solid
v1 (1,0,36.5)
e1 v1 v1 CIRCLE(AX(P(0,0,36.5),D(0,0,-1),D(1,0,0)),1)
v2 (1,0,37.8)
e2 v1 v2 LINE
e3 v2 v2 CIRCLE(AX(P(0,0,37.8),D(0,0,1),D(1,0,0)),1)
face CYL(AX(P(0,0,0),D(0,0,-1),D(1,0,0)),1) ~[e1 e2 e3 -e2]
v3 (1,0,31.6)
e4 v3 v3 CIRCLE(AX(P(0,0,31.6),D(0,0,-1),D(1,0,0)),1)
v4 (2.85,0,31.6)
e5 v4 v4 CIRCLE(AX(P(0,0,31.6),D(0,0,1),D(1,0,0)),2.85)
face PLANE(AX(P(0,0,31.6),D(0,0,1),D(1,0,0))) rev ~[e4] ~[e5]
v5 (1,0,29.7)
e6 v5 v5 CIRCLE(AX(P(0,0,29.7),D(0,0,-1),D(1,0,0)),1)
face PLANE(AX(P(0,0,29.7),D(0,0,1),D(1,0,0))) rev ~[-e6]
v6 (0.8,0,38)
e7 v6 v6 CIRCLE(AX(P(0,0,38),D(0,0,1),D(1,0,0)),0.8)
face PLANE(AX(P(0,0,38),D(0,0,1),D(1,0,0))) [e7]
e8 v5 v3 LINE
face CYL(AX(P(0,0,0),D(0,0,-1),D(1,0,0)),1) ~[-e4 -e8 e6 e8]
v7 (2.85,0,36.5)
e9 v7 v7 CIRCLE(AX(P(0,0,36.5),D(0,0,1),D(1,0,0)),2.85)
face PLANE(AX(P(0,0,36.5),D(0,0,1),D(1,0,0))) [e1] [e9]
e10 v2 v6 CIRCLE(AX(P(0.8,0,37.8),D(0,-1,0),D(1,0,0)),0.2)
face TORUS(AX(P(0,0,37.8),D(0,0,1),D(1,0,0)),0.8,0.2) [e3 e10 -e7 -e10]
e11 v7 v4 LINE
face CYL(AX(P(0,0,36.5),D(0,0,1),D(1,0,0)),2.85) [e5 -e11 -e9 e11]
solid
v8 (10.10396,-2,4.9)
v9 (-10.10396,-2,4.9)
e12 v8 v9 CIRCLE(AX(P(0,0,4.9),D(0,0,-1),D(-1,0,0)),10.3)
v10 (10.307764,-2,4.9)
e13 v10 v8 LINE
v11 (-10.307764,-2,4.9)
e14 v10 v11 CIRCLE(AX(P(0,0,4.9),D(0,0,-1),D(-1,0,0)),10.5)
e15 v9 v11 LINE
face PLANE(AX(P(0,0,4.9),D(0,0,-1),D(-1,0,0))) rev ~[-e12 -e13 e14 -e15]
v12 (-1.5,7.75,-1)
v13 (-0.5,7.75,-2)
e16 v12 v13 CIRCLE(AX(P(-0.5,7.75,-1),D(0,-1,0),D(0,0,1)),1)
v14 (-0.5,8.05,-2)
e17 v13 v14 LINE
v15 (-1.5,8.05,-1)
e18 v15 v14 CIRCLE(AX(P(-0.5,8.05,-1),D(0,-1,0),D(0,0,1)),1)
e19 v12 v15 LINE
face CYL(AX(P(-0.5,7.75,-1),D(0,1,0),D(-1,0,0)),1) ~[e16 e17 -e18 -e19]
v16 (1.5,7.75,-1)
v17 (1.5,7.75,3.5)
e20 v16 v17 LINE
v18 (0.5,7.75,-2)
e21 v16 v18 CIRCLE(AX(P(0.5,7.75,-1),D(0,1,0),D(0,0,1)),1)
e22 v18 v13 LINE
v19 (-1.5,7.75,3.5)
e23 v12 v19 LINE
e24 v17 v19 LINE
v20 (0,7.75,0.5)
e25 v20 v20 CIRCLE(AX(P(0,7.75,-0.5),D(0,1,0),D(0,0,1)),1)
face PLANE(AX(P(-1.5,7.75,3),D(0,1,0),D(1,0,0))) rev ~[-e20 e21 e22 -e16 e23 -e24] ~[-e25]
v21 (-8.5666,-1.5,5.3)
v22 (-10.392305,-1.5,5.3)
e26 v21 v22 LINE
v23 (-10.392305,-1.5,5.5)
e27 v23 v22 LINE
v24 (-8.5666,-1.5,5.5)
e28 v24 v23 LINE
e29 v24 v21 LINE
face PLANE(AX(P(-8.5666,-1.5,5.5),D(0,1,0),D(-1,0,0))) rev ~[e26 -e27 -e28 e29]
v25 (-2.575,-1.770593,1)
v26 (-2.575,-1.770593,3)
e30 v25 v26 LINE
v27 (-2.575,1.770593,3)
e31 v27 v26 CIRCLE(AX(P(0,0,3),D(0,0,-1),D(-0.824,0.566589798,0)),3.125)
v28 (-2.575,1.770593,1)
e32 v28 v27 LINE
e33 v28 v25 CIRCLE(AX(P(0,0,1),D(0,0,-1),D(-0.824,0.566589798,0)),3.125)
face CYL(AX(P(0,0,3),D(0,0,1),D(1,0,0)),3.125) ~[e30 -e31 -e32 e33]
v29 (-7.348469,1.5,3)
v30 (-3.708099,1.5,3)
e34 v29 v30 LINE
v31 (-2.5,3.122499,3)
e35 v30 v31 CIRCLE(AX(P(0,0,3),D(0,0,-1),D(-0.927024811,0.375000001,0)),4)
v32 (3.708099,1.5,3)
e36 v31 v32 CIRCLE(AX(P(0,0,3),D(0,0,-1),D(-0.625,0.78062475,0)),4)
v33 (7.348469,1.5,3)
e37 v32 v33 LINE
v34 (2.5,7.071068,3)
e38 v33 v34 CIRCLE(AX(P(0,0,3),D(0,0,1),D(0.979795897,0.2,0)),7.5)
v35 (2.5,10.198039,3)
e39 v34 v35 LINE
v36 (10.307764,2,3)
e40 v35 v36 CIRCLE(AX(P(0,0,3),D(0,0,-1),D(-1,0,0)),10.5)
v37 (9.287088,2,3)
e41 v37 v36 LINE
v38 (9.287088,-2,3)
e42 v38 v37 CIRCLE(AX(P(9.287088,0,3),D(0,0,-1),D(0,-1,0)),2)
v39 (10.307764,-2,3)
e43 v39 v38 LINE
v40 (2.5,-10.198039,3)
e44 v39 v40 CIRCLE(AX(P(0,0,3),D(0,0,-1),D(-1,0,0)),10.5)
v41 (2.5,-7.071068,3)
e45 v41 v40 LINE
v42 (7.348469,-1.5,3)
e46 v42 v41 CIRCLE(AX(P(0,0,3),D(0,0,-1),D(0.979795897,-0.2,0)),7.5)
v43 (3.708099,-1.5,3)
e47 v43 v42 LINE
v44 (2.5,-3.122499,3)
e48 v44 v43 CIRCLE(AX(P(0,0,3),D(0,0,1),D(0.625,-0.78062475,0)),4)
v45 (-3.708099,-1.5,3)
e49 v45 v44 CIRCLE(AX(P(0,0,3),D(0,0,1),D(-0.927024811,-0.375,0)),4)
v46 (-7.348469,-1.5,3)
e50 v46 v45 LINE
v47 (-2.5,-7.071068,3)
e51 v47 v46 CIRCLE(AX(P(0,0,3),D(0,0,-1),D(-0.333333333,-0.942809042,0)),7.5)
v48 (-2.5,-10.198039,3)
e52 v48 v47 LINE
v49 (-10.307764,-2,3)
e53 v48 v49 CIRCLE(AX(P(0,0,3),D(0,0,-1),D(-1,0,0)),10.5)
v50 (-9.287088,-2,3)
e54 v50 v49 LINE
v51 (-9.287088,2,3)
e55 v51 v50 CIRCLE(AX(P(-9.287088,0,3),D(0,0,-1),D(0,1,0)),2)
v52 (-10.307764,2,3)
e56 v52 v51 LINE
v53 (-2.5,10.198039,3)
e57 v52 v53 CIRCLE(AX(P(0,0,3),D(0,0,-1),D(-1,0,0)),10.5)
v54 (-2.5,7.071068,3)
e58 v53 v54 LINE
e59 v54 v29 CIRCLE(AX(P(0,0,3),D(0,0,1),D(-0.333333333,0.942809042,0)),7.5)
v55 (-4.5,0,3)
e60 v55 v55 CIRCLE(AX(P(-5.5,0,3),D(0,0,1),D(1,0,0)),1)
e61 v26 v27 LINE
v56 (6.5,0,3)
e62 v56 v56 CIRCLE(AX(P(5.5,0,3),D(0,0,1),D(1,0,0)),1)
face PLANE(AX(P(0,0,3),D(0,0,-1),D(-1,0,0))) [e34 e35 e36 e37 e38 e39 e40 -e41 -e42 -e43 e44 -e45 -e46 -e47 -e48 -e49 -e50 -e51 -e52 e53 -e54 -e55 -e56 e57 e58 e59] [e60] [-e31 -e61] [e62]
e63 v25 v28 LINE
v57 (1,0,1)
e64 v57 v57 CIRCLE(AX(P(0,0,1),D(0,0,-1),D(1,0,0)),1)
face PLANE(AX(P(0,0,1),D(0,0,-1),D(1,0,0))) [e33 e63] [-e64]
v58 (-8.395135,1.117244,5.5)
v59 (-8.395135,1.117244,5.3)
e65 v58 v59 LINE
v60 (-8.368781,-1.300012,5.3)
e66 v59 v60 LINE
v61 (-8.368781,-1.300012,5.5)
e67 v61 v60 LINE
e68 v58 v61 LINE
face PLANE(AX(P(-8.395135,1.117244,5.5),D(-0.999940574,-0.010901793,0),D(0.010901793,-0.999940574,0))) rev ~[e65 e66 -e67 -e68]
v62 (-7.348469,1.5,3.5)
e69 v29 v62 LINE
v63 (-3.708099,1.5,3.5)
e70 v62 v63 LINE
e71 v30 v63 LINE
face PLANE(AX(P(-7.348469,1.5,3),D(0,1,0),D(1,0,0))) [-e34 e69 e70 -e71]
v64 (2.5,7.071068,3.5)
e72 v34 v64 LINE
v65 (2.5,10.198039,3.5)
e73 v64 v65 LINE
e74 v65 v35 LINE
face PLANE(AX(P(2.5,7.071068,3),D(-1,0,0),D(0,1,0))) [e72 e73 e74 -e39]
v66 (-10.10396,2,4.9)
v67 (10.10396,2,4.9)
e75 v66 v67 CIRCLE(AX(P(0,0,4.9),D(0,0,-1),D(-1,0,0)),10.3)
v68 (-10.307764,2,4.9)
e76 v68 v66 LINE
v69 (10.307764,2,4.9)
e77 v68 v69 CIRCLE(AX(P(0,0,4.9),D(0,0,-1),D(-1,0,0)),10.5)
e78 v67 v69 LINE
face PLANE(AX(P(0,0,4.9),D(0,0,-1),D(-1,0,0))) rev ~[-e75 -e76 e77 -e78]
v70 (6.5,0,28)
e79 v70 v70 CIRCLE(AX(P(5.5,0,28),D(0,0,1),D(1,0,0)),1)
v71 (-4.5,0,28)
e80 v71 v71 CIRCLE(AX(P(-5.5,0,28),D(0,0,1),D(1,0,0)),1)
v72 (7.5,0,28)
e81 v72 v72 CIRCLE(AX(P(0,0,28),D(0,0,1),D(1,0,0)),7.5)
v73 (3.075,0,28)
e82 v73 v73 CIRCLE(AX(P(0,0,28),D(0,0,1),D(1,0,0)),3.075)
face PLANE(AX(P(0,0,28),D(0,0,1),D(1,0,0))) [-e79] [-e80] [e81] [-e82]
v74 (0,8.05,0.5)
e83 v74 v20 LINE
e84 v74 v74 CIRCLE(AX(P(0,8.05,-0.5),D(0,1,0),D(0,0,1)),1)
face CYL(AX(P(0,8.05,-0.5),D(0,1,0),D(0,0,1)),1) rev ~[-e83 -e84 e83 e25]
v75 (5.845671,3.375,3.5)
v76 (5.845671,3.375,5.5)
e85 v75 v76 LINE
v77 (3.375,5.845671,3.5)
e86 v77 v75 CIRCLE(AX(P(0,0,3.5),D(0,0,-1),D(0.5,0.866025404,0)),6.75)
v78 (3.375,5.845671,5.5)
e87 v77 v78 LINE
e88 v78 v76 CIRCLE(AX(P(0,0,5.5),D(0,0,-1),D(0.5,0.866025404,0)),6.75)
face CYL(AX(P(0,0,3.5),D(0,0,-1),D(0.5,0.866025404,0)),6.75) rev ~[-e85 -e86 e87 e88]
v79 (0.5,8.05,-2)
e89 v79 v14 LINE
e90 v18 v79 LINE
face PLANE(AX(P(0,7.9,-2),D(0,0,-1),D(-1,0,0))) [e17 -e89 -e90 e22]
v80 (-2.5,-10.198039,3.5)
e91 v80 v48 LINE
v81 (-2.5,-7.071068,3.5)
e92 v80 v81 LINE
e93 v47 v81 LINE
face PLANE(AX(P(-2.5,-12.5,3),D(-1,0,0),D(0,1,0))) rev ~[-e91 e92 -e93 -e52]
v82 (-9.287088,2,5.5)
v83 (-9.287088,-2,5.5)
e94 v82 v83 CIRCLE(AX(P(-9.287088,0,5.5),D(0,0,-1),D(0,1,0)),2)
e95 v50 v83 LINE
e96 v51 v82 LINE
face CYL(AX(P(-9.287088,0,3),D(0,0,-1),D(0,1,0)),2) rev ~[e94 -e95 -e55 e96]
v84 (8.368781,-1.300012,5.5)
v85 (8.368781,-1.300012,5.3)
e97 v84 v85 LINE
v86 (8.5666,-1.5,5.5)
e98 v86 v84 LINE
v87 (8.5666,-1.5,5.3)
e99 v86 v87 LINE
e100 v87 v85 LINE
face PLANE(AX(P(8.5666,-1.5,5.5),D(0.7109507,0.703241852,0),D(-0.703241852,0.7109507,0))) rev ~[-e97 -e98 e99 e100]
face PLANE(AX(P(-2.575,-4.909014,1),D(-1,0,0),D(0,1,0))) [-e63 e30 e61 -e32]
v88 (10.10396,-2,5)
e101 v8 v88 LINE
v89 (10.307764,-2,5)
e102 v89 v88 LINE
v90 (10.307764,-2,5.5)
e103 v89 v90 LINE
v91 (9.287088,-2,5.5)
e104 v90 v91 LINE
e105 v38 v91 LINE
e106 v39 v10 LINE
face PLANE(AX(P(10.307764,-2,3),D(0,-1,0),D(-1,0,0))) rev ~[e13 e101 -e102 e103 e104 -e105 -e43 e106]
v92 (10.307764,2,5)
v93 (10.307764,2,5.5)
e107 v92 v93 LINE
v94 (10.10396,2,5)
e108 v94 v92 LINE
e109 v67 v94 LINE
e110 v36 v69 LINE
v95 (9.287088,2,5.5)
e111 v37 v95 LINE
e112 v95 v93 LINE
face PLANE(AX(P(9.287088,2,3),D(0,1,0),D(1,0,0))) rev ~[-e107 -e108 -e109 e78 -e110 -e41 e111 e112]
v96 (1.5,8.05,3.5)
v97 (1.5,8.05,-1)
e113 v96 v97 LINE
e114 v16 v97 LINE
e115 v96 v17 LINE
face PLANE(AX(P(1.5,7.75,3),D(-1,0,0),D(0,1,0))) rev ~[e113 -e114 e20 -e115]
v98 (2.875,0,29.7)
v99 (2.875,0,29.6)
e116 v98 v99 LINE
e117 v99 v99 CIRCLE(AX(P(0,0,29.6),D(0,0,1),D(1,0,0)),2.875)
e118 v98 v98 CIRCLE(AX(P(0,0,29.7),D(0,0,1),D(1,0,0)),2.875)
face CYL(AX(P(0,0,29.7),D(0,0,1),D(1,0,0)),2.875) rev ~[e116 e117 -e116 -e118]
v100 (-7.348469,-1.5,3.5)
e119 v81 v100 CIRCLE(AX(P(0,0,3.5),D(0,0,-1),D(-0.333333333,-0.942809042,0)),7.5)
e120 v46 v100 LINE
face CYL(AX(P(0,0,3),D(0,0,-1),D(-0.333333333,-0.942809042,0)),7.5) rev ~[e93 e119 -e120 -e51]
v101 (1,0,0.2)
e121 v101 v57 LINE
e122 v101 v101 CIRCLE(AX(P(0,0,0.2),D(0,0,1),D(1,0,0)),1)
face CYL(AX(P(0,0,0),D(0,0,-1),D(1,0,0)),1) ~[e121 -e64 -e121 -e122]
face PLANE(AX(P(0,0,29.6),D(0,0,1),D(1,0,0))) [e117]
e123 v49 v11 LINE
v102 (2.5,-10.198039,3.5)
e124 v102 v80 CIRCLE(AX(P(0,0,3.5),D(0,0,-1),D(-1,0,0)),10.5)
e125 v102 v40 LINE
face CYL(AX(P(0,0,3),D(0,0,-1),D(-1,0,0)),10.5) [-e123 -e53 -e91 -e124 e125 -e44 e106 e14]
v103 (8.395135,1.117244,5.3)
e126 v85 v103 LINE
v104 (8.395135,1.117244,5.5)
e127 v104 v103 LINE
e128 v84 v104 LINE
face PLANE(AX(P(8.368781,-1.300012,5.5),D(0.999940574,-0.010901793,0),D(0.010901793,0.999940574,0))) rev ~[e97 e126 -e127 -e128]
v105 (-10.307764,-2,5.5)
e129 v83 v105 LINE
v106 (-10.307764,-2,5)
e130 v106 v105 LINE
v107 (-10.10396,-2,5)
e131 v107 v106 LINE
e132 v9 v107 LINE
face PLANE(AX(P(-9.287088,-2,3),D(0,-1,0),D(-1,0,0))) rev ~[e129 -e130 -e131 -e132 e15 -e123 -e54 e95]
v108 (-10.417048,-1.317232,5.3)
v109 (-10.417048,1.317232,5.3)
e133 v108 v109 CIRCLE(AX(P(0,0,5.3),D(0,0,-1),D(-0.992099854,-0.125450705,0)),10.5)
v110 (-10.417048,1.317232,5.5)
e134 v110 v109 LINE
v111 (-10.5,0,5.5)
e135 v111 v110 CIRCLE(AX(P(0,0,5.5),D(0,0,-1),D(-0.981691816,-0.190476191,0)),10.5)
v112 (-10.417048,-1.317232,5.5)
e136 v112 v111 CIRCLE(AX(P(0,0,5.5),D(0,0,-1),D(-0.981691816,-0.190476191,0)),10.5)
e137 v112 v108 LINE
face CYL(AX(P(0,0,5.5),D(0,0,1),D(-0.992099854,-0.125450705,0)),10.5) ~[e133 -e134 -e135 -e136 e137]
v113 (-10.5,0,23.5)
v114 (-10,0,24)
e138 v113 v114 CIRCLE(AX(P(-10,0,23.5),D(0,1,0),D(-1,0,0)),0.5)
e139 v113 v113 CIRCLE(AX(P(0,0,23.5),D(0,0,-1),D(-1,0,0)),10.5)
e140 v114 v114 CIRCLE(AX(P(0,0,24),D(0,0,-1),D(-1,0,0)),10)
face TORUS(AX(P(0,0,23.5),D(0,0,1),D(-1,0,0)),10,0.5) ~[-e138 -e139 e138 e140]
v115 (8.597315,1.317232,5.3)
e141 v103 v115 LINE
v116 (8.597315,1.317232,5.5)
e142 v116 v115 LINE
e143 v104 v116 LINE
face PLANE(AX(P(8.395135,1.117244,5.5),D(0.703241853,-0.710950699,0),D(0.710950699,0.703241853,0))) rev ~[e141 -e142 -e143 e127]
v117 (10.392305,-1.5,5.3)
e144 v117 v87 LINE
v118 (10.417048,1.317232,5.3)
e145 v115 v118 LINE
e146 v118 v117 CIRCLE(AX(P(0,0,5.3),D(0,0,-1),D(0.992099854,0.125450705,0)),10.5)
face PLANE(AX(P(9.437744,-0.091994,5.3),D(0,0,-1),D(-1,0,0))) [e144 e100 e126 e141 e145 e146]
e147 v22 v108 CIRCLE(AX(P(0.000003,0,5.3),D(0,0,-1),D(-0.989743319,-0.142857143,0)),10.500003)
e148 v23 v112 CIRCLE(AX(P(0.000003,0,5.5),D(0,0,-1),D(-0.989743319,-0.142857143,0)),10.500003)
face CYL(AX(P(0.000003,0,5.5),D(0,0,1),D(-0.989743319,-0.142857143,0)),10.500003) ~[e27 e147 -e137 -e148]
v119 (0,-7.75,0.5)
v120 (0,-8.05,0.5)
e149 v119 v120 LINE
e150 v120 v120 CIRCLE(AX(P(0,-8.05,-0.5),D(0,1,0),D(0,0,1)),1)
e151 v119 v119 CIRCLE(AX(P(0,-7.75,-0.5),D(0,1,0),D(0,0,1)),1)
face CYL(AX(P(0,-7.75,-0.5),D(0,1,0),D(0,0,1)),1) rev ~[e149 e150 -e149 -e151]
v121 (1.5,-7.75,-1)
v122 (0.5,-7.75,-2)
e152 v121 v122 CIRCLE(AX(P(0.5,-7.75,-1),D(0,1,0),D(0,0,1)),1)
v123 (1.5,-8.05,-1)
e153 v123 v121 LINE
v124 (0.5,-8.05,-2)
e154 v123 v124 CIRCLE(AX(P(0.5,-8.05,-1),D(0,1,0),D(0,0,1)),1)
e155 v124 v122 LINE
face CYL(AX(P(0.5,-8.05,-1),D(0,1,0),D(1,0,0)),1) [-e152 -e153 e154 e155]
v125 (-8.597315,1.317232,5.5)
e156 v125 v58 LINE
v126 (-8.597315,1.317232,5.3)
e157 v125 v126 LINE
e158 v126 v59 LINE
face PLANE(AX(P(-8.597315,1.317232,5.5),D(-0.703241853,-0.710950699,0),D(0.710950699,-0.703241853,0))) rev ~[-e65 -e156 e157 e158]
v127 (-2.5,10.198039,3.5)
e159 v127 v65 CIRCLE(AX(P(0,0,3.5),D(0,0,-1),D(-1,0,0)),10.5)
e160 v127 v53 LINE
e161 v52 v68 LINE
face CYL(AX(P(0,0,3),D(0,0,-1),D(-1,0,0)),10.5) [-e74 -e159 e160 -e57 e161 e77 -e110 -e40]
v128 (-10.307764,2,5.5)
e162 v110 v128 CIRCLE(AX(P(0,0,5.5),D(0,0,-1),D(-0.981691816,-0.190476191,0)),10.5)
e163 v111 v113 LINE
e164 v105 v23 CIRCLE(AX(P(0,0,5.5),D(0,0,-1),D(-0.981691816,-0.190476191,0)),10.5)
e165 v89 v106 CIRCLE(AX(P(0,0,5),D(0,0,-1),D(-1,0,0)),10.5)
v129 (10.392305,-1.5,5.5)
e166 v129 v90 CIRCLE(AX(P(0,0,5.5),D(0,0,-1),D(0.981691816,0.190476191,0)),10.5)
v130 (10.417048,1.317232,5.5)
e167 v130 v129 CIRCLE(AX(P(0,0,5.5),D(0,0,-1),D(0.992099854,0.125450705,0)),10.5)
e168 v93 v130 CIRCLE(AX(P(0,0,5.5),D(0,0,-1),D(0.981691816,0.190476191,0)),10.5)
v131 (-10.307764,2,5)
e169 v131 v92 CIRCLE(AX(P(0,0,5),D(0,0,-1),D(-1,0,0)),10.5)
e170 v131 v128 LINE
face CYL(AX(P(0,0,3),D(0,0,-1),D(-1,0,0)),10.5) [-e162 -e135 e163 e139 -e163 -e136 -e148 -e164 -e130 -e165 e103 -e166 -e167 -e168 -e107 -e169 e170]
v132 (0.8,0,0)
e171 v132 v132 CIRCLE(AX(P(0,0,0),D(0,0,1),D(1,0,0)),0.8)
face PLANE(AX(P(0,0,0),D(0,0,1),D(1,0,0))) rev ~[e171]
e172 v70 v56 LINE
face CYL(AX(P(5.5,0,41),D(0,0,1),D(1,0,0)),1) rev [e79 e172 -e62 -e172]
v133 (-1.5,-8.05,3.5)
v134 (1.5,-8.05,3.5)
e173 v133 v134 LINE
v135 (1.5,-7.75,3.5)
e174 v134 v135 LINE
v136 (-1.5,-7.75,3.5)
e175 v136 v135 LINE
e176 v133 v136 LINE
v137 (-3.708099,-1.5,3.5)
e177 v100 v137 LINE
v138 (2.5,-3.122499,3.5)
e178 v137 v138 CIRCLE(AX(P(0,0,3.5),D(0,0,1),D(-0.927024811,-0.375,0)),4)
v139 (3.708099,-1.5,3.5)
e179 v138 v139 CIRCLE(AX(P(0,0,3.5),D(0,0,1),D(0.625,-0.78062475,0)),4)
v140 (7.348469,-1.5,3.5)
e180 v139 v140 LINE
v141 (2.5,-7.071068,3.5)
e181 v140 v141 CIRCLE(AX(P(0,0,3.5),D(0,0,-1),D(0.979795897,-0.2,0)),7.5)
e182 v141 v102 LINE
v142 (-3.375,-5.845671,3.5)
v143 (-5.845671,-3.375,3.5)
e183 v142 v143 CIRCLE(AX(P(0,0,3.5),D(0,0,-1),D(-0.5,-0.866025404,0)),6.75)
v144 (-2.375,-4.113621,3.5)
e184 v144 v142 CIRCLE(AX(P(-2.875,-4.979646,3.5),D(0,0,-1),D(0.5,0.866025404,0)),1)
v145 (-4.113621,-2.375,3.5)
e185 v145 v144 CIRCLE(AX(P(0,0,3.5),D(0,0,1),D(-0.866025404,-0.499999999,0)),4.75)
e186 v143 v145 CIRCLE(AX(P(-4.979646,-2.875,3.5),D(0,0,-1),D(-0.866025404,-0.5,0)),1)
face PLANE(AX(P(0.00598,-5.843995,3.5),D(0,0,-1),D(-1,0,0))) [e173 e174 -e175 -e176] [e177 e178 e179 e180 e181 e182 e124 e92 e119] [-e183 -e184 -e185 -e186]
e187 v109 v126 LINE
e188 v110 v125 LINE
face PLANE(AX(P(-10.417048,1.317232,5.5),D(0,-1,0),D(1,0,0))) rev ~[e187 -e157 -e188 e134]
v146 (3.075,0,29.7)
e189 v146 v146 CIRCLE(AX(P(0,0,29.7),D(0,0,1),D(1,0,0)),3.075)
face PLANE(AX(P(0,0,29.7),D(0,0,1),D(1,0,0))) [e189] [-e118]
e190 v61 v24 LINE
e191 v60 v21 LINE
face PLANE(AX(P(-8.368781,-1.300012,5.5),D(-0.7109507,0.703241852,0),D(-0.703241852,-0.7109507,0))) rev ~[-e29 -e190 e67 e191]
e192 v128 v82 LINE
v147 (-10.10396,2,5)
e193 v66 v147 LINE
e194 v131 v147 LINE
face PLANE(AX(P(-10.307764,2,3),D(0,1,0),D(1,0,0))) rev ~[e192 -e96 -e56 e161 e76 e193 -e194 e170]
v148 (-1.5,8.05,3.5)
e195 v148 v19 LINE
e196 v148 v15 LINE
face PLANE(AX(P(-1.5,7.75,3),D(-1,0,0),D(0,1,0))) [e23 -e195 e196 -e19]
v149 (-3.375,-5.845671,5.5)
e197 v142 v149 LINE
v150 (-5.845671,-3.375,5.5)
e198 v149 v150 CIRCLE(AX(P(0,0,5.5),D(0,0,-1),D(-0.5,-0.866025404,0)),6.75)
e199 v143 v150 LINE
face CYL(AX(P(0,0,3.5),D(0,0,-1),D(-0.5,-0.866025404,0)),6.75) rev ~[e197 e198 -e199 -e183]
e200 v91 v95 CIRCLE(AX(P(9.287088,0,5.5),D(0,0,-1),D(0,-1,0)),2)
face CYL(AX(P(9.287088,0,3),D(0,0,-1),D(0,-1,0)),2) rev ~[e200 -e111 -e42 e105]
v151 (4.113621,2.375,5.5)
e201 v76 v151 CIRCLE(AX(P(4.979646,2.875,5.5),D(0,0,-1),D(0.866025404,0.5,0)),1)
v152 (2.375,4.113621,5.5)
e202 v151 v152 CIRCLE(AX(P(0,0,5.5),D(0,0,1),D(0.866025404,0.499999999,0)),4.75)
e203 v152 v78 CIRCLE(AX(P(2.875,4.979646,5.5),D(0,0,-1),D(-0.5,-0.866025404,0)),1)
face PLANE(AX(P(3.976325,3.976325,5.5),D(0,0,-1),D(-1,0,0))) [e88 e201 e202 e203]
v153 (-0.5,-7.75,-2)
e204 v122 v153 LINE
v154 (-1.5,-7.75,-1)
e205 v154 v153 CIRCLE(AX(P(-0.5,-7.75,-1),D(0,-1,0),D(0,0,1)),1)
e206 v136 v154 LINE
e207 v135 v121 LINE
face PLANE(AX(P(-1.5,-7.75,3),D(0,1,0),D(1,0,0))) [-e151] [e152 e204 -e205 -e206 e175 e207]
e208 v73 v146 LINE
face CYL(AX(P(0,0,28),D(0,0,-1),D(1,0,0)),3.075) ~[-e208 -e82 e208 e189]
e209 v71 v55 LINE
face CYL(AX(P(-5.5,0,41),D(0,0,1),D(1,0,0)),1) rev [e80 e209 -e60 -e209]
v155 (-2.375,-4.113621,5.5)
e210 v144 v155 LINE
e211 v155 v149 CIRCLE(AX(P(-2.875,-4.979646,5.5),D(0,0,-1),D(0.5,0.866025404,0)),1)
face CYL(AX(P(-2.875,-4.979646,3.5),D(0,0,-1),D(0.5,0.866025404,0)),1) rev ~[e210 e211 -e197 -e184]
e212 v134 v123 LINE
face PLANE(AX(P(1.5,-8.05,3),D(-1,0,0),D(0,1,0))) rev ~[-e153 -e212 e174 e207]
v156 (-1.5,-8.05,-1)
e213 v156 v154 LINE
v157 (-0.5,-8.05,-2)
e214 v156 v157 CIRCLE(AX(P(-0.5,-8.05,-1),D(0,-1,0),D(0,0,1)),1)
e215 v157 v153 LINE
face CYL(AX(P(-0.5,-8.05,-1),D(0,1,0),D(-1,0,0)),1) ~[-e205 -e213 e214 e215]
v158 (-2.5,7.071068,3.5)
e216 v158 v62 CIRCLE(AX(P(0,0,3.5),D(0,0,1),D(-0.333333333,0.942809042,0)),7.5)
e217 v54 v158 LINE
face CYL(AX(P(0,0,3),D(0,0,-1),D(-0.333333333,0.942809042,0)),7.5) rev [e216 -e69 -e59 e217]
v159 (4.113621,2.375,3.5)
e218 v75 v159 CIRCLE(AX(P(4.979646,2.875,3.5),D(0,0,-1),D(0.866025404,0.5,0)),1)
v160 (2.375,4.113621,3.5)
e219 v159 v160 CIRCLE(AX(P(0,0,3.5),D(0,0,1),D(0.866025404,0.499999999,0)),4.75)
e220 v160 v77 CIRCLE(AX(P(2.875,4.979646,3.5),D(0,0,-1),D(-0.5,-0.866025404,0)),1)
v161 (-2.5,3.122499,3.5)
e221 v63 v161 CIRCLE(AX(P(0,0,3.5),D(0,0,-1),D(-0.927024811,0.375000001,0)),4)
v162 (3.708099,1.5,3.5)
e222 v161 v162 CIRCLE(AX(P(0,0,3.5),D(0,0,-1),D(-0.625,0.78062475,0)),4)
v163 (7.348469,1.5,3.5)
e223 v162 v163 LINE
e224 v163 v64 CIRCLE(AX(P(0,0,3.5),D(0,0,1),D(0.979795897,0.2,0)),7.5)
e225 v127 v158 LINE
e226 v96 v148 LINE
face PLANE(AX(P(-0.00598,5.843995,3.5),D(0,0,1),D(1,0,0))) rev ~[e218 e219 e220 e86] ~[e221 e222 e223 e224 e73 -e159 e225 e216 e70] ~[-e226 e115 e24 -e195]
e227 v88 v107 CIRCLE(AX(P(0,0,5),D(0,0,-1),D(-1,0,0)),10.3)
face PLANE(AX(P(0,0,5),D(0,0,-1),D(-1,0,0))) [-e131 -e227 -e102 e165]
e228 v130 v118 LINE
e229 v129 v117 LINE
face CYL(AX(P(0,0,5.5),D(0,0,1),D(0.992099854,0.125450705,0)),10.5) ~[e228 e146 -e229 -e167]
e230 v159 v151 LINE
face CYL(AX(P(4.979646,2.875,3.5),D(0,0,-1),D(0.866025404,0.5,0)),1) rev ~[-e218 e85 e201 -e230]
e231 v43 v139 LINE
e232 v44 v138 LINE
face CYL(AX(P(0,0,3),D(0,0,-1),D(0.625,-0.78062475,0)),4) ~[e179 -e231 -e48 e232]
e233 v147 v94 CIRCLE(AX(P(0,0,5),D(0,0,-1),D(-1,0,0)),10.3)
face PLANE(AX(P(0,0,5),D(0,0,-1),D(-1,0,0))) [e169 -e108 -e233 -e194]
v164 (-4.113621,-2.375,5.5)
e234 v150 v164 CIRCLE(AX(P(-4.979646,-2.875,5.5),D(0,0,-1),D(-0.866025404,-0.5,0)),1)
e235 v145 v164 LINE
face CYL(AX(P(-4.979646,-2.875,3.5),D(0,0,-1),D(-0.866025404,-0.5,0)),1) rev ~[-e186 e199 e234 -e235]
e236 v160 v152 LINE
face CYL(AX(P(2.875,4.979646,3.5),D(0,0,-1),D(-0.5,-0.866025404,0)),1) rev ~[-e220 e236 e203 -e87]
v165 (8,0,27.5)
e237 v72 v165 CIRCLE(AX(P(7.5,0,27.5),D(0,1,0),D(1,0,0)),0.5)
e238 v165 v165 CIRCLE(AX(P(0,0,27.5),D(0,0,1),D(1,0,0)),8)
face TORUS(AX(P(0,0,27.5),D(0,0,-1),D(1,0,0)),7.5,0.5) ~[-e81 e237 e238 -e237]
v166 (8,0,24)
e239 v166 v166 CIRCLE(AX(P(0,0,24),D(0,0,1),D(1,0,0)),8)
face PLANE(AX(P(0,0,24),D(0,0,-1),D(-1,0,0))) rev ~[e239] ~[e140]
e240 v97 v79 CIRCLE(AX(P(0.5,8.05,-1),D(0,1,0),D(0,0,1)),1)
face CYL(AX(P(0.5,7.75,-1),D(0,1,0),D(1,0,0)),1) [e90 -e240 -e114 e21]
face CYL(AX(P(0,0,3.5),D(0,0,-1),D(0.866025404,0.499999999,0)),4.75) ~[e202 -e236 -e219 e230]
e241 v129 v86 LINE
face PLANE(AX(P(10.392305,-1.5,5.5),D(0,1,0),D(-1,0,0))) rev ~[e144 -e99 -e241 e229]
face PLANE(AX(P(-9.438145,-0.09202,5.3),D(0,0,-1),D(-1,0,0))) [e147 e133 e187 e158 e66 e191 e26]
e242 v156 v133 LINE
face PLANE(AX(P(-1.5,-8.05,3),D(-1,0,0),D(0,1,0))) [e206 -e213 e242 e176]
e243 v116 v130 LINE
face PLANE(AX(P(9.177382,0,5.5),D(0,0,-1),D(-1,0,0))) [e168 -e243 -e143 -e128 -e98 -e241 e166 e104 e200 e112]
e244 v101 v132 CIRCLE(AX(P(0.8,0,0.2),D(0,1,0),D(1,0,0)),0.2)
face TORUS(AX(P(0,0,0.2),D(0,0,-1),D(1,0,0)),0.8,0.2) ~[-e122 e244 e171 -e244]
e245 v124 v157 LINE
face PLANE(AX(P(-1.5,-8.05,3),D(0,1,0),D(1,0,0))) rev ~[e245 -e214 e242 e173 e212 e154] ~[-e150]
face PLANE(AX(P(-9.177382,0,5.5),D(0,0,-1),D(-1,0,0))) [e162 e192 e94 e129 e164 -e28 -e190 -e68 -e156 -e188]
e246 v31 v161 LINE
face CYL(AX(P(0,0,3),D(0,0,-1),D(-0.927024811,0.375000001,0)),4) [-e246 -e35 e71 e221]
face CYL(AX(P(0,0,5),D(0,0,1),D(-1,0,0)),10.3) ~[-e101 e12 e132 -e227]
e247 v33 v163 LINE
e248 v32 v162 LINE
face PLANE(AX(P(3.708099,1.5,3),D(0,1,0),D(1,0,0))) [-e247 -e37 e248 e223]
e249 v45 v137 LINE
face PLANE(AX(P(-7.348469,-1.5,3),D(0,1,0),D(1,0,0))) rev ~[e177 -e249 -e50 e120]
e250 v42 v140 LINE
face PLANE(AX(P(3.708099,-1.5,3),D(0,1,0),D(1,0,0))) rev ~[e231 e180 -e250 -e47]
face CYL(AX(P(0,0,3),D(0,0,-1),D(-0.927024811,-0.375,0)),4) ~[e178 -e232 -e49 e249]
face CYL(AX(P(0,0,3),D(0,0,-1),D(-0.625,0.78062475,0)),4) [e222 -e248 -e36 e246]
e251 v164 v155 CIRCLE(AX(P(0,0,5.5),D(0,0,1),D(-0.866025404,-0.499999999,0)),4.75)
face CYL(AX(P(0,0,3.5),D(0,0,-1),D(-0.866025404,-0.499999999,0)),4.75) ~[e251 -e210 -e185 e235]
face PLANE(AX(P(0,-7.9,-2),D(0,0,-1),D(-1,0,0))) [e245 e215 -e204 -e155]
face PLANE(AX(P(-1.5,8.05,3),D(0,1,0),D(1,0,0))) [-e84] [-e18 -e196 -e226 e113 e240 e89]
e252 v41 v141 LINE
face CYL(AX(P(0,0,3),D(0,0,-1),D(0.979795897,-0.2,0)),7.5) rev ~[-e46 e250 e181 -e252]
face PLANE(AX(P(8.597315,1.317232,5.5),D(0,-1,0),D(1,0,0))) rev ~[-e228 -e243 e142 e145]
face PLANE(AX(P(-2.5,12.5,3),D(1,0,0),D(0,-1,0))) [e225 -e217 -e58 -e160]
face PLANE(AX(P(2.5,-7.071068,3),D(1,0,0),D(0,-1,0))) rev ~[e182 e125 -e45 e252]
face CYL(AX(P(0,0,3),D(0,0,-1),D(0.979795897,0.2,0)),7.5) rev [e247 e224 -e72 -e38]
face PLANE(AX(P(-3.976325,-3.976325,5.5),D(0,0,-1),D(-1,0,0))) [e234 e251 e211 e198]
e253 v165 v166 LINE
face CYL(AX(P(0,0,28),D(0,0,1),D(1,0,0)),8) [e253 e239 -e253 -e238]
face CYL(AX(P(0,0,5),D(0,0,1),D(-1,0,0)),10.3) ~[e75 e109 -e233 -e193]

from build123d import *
from build123d.topology import SkipClean

# Parameters (mm, degrees)
ESBO_O1_R                  = 1
RESSALTO_EXTRUS_O1_DEPTH   = 38
ESBO_O2_R                  = 8
RESSALTO_EXTRUS_O2_DEPTH   = 25
ESBO_O3_R                  = 3.075
RESSALTO_EXTRUS_O3_DEPTH   = 1.7
ESBO_O4_R                  = 10.5
RESSALTO_EXTRUS_O4_DEPTH   = 21
ESBO_O5_R                  = 3.125
RESSALTO_EXTRUS_O5_DEPTH   = 2
ESBO_O6_W                  = 3
ESBO_O6_H                  = 0.3
RESSALTO_EXTRUS_O6_DEPTH   = 5
ESBO_O7_R                  = 1
CORTE_EXTRUS_O1_DEPTH      = 4
ESBO_O8_R                  = 1
CORTE_EXTRUS_O2_DEPTH      = 4
FILETE1_R                  = 1
FILETE2_R                  = 0.2
CORTE_EXTRUS_O3_DEPTH      = 15
CORTE_EXTRUS_O3_DEPTH_BACK = 38
ESBO_O9_R                  = 1
ESBO_O10_W                 = 1.239132447
ESBO_O10_H                 = 9.327126009
CORTE_EXTRUS_O4_DEPTH      = 2
CORTE_EXTRUS_O5_DEPTH      = 0.5
CORTE_EXTRUS_O6_DEPTH      = 2
ESBO_O13_W                 = 3
ESBO_O13_H                 = 0.3
RESSALTO_EXTRUS_O7_DEPTH   = 6
ESBO_O14_R                 = 11.30933102
ESBO_O14_R_2               = 10.3
CORTE_EXTRUS_O7_DEPTH      = 0.1
FILETE3_R                  = 0.5
ESBO_O15_R                 = 2.875
CORTE_EXTRUS_O8_DEPTH      = 0.1
CORTE_EXTRUS_O9_DEPTH      = 2.5
RESSALTO_EXTRUS_O8_DEPTH   = 0.2
ESBO_O18_R                 = 2.85
RESSALTO_EXTRUS_O9_DEPTH   = 4.9


with BuildPart() as part:
    # Esboço1 → Ressalto-extrusão1 (new body)
    with BuildSketch(Plane.XY):
        Circle(ESBO_O1_R)
    extrude(amount=RESSALTO_EXTRUS_O1_DEPTH)

    # Esboço2 → Ressalto-extrusão2 (add)
    with BuildSketch(Plane.XY.offset(28)):
        Circle(ESBO_O2_R)
    extrude(amount=-RESSALTO_EXTRUS_O2_DEPTH)

    # Esboço3 → Ressalto-extrusão3 (add)
    with BuildSketch(Plane.XY.offset(28)):
        Circle(ESBO_O3_R)
    extrude(amount=RESSALTO_EXTRUS_O3_DEPTH)

    # Esboço4 → Ressalto-extrusão4 (add)
    with BuildSketch(Plane(origin=(0, 0, 3), x_dir=(-1, 0, 0), z_dir=(0, 0, -1))):
        Circle(ESBO_O4_R)
    extrude(amount=-RESSALTO_EXTRUS_O4_DEPTH)

    # Esboço5 → Ressalto-extrusão5 (add)
    with BuildSketch(Plane(origin=(0, 0, 3), x_dir=(-1, 0, 0), z_dir=(0, 0, -1))):
        with Locations(Location((0, 0, 0), (0, 0, 180))):
            Circle(ESBO_O5_R)
    extrude(amount=RESSALTO_EXTRUS_O5_DEPTH)

    # Esboço6 → Ressalto-extrusão6 (add)
    with BuildSketch(Plane(origin=(0, 0, 3), x_dir=(-1, 0, 0), z_dir=(0, 0, -1))):
        with Locations((0, 7.9)):
            Rectangle(ESBO_O6_W, ESBO_O6_H)
        with Locations((0, -7.9)):
            Rectangle(ESBO_O6_W, ESBO_O6_H)
    extrude(amount=RESSALTO_EXTRUS_O6_DEPTH)

    # Esboço7 → Corte-extrusão1 (cut)
    with BuildSketch(Plane(origin=(0, 8.05, 0), x_dir=(1, 0, 0), z_dir=(0, 1, 0))):
        with Locations(Location((0, 0.5, 0), (0, 0, 270))):
            Circle(ESBO_O7_R)
    extrude(amount=-CORTE_EXTRUS_O1_DEPTH, mode=Mode.SUBTRACT)

    # Esboço8 → Corte-extrusão2 (cut)
    with BuildSketch(Plane(origin=(0, -7.75, 0), x_dir=(1, 0, 0), z_dir=(0, 1, 0))):
        with Locations(Location((0, 0.5, 0), (0, 0, 270))):
            Circle(ESBO_O8_R)
    extrude(amount=-CORTE_EXTRUS_O2_DEPTH, mode=Mode.SUBTRACT)

    # Filete1
    filete1_edges = [part.edges().sort_by_distance(p)[0] for p in [
        (1.5, 7.9, -2),
        (-1.5, 7.9, -2),
        (1.5, -7.9, -2),
        (-1.5, -7.9, -2),
    ]]
    fillet(filete1_edges, radius=FILETE1_R)

    # Filete2
    filete2_edges = [part.edges().sort_by_distance(p)[0] for p in [
        (-1, 0, 0),
        (-1, 0, 38),
    ]]
    fillet(filete2_edges, radius=FILETE2_R)

    # Esboço9 → Corte-extrusão3 (cut, two sides: drawn at the far end of the back side and taken through both)
    with BuildSketch(Plane(origin=(0, 0, 3), x_dir=(-1, 0, 0), z_dir=(0, 0, -1)).offset(-CORTE_EXTRUS_O3_DEPTH_BACK)):
        with Locations(Location((-5.5, 0, 0), (0, 0, 180))):
            Circle(ESBO_O9_R)
        with Locations(Location((5.5, 0, 0), (0, 0, 180))):
            Circle(ESBO_O9_R)
    extrude(amount=CORTE_EXTRUS_O3_DEPTH + CORTE_EXTRUS_O3_DEPTH_BACK, mode=Mode.SUBTRACT)

    # Esboço10 → Corte-extrusão4 (cut)
    with BuildSketch(Plane(origin=(0, 0, 1), x_dir=(-1, 0, 0), z_dir=(0, 0, -1))):
        with Locations((3.194566224, -0.245450684)):
            Rectangle(ESBO_O10_W, ESBO_O10_H)
    extrude(amount=-CORTE_EXTRUS_O4_DEPTH, mode=Mode.SUBTRACT)

    # Esboço11 → Corte-extrusão5 (cut)
    with BuildSketch(Plane(origin=(0, 0, 3), x_dir=(-1, 0, 0), z_dir=(0, 0, -1))):
        with BuildLine():
            Line((-3.708099244, 1.5), (-7.348469228, 1.5))
            ThreePointArc((-7.348469228, 1.5), (-5.657498182, 4.923689097), (-2.5, 7.071067812))
            Line((-2.5, 7.071067812), (-2.5, 12.5))
            Line((-2.5, 12.5), (2.5, 12.5))
            Line((2.5, 12.5), (2.5, 7.071067812))
            ThreePointArc((2.5, 7.071067812), (5.657498182, 4.923689097), (7.348469228, 1.5))
            Line((7.348469228, 1.5), (3.708099244, 1.5))
            ThreePointArc((3.708099244, 1.5), (3.208309493, 2.388880532), (2.5, 3.122498999))
            ThreePointArc((2.5, 3.122498999), (-1.011435463, 3.870012701), (-3.708099244, 1.5))
        make_face()
        with BuildLine():
            Line((7.348469228, -1.5), (3.708099244, -1.5))
            ThreePointArc((3.708099244, -1.5), (1.011435463, -3.870012701), (-2.5, -3.122498999))
            ThreePointArc((-2.5, -3.122498999), (-3.208309493, -2.388880532), (-3.708099244, -1.5))
            Line((-3.708099244, -1.5), (-7.348469228, -1.5))
            ThreePointArc((-7.348469228, -1.5), (-5.657498182, -4.923689097), (-2.5, -7.071067812))
            Line((-2.5, -7.071067812), (-2.5, -12.5))
            Line((-2.5, -12.5), (2.5, -12.5))
            Line((2.5, -12.5), (2.5, -7.071067812))
            ThreePointArc((2.5, -7.071067812), (5.657498182, -4.923689097), (7.348469228, -1.5))
        make_face()
    extrude(amount=-CORTE_EXTRUS_O5_DEPTH, mode=Mode.SUBTRACT)


with BuildPart() as corte_extrus_o5_piece_1:
    # of the separate pieces the step leaves, piece 1, a body of its own (corte_extrus_o5_pieces)
    add(part.part.solids().sort_by_distance((1, 0, 0.2))[0])

    # Esboço12 → Corte-extrusão6 (cut)
    with BuildSketch(Plane(origin=(0, 0, 3.5), x_dir=(-1, 0, 0), z_dir=(0, 0, -1))):
        with BuildLine():
            ThreePointArc((3.375, -5.845671476), (4.772970773, -4.772970773), (5.845671476, -3.375))
            ThreePointArc((5.845671476, -3.375), (5.479646072, -2.008974596), (4.113620668, -2.375))
            ThreePointArc((4.113620668, -2.375), (3.358757211, -3.358757211), (2.375, -4.113620668))
            ThreePointArc((2.375, -4.113620668), (2.008974596, -5.479646072), (3.375, -5.845671476))
        make_face()
        with BuildLine():
            ThreePointArc((-3.375, 5.845671476), (-4.772970773, 4.772970773), (-5.845671476, 3.375))
            ThreePointArc((-5.845671476, 3.375), (-5.479646072, 2.008974596), (-4.113620668, 2.375))
            ThreePointArc((-4.113620668, 2.375), (-3.358757211, 3.358757211), (-2.375, 4.113620668))
            ThreePointArc((-2.375, 4.113620668), (-2.008974596, 5.479646072), (-3.375, 5.845671476))
        make_face()
    extrude(amount=-CORTE_EXTRUS_O6_DEPTH, mode=Mode.SUBTRACT)



with BuildPart() as corte_extrus_o5_piece_2:
    # of the separate pieces the step leaves, piece 2, a body of its own (corte_extrus_o5_pieces)
    add(part.part.solids().sort_by_distance((-1.5, 7.75, -1))[0])


with BuildPart() as corte_extrus_o5_piece_3:
    # of the separate pieces the step leaves, piece 3, a body of its own (corte_extrus_o5_pieces)
    add(part.part.solids().sort_by_distance((-1.5, -8.05, -1))[0])


with BuildPart() as corte_extrus_o5_piece_1_1:
    add(corte_extrus_o5_piece_1.part)

    add(corte_extrus_o5_piece_2.part)  # Ressalto-extrusão7 merges Corte-extrusão5 piece 2

    add(corte_extrus_o5_piece_3.part)  # Ressalto-extrusão7 merges Corte-extrusão5 piece 3
    # Esboço13 → Ressalto-extrusão7 (add)
    with BuildSketch(Plane.XY.offset(3)):
        with Locations((0, 7.9)):
            Rectangle(ESBO_O13_W, ESBO_O13_H)
        with Locations((0, -7.9)):
            Rectangle(ESBO_O13_W, ESBO_O13_H)
    extrude(amount=RESSALTO_EXTRUS_O7_DEPTH)

    # Esboço14 → Corte-extrusão7 (cut)
    with BuildSketch(Plane(origin=(0, 0, 5), x_dir=(-1, 0, 0), z_dir=(0, 0, -1))):
        Circle(ESBO_O14_R)
        Circle(ESBO_O14_R_2, mode=Mode.SUBTRACT)
    extrude(amount=CORTE_EXTRUS_O7_DEPTH, mode=Mode.SUBTRACT)

    # Filete3
    filete3_edges = [corte_extrus_o5_piece_1_1.edges().sort_by_distance(p)[0] for p in [
        (-8, 0, 28),
        (10.5, 0, 24),
    ]]
    fillet(filete3_edges, radius=FILETE3_R)

    # Esboço15 → Corte-extrusão8 (cut)
    with BuildSketch(Plane.XY.offset(29.7)):
        Circle(ESBO_O15_R)
    extrude(amount=-CORTE_EXTRUS_O8_DEPTH, mode=Mode.SUBTRACT)


with BuildPart() as corte_extrus_o8_piece_1:
    # of the separate pieces the step leaves, piece 1, a body of its own (corte_extrus_o8_pieces)
    add(corte_extrus_o5_piece_1_1.part.solids().sort_by_distance((7.5, 0, 28))[0])

    # Esboço16 → Corte-extrusão9 (cut)
    with BuildSketch(Plane(origin=(0, 0, 3), x_dir=(-1, 0, 0), z_dir=(0, 0, -1))):
        with BuildLine():
            Line((-9.287087811, 2), (-10.307764064, 2))
            ThreePointArc((-10.307764064, 2), (-10.5, 0), (-10.307764064, -2))
            Line((-10.307764064, -2), (-9.287087811, -2))
            ThreePointArc((-9.287087811, -2), (-7.287087811, 0), (-9.287087811, 2))
        make_face()
        with BuildLine():
            Line((10.307764064, 2), (9.287087811, 2))
            ThreePointArc((9.287087811, 2), (7.287087811, 0), (9.287087811, -2))
            Line((9.287087811, -2), (10.307764064, -2))
            ThreePointArc((10.307764064, -2), (10.5, 0), (10.307764064, 2))
        make_face()
    extrude(amount=-CORTE_EXTRUS_O9_DEPTH, mode=Mode.SUBTRACT)

    # Esboço17 → Ressalto-extrusão8 (add)
    with SkipClean():  # the faces are left unmerged after this step: merging them gives an invalid solid
        with BuildSketch(Plane(origin=(0, 0, 5.5), x_dir=(-1, 0, 0), z_dir=(0, 0, -1))):
            with BuildLine():
                ThreePointArc((10.417048469, -1.317232401), (10.5, 0), (10.417048469, 1.317232401))
                Line((10.417048469, 1.317232401), (8.597314976, 1.317232401))
                Line((8.597314976, 1.317232401), (8.395134617, 1.117244286))
                Line((8.395134617, 1.117244286), (8.368780624, -1.300011885))
                Line((8.368780624, -1.300011885), (8.566600265, -1.5))
                Line((8.566600265, -1.5), (10.392304845, -1.5))
                ThreePointArc((10.392304845, -1.5), (10.405077959, -1.40867053), (10.417048469, -1.317232401))
            make_face()
            with BuildLine():
                Line((-8.395134617, 1.117244286), (-8.597314976, 1.317232401))
                Line((-8.597314976, 1.317232401), (-10.417048469, 1.317232401))
                ThreePointArc((-10.417048469, 1.317232401), (-10.499595037, -0.092217463), (-10.392304845, -1.5))
                Line((-10.392304845, -1.5), (-8.566600265, -1.5))
                Line((-8.566600265, -1.5), (-8.368780624, -1.300011885))
                Line((-8.368780624, -1.300011885), (-8.395134617, 1.117244286))
            make_face()
        extrude(amount=RESSALTO_EXTRUS_O8_DEPTH)


with BuildPart() as corte_extrus_o8_piece_2:
    # of the separate pieces the step leaves, piece 2, a body of its own (corte_extrus_o8_pieces)
    add(corte_extrus_o5_piece_1_1.part.solids().sort_by_distance((1, 0, 37.8))[0])

    # Esboço18 → Ressalto-extrusão9 (add)
    with BuildSketch(Plane.XY.offset(36.5)):
        Circle(ESBO_O18_R)
    extrude(amount=-RESSALTO_EXTRUS_O9_DEPTH)


solid = Compound([corte_extrus_o8_piece_1.part, corte_extrus_o8_piece_2.part])
